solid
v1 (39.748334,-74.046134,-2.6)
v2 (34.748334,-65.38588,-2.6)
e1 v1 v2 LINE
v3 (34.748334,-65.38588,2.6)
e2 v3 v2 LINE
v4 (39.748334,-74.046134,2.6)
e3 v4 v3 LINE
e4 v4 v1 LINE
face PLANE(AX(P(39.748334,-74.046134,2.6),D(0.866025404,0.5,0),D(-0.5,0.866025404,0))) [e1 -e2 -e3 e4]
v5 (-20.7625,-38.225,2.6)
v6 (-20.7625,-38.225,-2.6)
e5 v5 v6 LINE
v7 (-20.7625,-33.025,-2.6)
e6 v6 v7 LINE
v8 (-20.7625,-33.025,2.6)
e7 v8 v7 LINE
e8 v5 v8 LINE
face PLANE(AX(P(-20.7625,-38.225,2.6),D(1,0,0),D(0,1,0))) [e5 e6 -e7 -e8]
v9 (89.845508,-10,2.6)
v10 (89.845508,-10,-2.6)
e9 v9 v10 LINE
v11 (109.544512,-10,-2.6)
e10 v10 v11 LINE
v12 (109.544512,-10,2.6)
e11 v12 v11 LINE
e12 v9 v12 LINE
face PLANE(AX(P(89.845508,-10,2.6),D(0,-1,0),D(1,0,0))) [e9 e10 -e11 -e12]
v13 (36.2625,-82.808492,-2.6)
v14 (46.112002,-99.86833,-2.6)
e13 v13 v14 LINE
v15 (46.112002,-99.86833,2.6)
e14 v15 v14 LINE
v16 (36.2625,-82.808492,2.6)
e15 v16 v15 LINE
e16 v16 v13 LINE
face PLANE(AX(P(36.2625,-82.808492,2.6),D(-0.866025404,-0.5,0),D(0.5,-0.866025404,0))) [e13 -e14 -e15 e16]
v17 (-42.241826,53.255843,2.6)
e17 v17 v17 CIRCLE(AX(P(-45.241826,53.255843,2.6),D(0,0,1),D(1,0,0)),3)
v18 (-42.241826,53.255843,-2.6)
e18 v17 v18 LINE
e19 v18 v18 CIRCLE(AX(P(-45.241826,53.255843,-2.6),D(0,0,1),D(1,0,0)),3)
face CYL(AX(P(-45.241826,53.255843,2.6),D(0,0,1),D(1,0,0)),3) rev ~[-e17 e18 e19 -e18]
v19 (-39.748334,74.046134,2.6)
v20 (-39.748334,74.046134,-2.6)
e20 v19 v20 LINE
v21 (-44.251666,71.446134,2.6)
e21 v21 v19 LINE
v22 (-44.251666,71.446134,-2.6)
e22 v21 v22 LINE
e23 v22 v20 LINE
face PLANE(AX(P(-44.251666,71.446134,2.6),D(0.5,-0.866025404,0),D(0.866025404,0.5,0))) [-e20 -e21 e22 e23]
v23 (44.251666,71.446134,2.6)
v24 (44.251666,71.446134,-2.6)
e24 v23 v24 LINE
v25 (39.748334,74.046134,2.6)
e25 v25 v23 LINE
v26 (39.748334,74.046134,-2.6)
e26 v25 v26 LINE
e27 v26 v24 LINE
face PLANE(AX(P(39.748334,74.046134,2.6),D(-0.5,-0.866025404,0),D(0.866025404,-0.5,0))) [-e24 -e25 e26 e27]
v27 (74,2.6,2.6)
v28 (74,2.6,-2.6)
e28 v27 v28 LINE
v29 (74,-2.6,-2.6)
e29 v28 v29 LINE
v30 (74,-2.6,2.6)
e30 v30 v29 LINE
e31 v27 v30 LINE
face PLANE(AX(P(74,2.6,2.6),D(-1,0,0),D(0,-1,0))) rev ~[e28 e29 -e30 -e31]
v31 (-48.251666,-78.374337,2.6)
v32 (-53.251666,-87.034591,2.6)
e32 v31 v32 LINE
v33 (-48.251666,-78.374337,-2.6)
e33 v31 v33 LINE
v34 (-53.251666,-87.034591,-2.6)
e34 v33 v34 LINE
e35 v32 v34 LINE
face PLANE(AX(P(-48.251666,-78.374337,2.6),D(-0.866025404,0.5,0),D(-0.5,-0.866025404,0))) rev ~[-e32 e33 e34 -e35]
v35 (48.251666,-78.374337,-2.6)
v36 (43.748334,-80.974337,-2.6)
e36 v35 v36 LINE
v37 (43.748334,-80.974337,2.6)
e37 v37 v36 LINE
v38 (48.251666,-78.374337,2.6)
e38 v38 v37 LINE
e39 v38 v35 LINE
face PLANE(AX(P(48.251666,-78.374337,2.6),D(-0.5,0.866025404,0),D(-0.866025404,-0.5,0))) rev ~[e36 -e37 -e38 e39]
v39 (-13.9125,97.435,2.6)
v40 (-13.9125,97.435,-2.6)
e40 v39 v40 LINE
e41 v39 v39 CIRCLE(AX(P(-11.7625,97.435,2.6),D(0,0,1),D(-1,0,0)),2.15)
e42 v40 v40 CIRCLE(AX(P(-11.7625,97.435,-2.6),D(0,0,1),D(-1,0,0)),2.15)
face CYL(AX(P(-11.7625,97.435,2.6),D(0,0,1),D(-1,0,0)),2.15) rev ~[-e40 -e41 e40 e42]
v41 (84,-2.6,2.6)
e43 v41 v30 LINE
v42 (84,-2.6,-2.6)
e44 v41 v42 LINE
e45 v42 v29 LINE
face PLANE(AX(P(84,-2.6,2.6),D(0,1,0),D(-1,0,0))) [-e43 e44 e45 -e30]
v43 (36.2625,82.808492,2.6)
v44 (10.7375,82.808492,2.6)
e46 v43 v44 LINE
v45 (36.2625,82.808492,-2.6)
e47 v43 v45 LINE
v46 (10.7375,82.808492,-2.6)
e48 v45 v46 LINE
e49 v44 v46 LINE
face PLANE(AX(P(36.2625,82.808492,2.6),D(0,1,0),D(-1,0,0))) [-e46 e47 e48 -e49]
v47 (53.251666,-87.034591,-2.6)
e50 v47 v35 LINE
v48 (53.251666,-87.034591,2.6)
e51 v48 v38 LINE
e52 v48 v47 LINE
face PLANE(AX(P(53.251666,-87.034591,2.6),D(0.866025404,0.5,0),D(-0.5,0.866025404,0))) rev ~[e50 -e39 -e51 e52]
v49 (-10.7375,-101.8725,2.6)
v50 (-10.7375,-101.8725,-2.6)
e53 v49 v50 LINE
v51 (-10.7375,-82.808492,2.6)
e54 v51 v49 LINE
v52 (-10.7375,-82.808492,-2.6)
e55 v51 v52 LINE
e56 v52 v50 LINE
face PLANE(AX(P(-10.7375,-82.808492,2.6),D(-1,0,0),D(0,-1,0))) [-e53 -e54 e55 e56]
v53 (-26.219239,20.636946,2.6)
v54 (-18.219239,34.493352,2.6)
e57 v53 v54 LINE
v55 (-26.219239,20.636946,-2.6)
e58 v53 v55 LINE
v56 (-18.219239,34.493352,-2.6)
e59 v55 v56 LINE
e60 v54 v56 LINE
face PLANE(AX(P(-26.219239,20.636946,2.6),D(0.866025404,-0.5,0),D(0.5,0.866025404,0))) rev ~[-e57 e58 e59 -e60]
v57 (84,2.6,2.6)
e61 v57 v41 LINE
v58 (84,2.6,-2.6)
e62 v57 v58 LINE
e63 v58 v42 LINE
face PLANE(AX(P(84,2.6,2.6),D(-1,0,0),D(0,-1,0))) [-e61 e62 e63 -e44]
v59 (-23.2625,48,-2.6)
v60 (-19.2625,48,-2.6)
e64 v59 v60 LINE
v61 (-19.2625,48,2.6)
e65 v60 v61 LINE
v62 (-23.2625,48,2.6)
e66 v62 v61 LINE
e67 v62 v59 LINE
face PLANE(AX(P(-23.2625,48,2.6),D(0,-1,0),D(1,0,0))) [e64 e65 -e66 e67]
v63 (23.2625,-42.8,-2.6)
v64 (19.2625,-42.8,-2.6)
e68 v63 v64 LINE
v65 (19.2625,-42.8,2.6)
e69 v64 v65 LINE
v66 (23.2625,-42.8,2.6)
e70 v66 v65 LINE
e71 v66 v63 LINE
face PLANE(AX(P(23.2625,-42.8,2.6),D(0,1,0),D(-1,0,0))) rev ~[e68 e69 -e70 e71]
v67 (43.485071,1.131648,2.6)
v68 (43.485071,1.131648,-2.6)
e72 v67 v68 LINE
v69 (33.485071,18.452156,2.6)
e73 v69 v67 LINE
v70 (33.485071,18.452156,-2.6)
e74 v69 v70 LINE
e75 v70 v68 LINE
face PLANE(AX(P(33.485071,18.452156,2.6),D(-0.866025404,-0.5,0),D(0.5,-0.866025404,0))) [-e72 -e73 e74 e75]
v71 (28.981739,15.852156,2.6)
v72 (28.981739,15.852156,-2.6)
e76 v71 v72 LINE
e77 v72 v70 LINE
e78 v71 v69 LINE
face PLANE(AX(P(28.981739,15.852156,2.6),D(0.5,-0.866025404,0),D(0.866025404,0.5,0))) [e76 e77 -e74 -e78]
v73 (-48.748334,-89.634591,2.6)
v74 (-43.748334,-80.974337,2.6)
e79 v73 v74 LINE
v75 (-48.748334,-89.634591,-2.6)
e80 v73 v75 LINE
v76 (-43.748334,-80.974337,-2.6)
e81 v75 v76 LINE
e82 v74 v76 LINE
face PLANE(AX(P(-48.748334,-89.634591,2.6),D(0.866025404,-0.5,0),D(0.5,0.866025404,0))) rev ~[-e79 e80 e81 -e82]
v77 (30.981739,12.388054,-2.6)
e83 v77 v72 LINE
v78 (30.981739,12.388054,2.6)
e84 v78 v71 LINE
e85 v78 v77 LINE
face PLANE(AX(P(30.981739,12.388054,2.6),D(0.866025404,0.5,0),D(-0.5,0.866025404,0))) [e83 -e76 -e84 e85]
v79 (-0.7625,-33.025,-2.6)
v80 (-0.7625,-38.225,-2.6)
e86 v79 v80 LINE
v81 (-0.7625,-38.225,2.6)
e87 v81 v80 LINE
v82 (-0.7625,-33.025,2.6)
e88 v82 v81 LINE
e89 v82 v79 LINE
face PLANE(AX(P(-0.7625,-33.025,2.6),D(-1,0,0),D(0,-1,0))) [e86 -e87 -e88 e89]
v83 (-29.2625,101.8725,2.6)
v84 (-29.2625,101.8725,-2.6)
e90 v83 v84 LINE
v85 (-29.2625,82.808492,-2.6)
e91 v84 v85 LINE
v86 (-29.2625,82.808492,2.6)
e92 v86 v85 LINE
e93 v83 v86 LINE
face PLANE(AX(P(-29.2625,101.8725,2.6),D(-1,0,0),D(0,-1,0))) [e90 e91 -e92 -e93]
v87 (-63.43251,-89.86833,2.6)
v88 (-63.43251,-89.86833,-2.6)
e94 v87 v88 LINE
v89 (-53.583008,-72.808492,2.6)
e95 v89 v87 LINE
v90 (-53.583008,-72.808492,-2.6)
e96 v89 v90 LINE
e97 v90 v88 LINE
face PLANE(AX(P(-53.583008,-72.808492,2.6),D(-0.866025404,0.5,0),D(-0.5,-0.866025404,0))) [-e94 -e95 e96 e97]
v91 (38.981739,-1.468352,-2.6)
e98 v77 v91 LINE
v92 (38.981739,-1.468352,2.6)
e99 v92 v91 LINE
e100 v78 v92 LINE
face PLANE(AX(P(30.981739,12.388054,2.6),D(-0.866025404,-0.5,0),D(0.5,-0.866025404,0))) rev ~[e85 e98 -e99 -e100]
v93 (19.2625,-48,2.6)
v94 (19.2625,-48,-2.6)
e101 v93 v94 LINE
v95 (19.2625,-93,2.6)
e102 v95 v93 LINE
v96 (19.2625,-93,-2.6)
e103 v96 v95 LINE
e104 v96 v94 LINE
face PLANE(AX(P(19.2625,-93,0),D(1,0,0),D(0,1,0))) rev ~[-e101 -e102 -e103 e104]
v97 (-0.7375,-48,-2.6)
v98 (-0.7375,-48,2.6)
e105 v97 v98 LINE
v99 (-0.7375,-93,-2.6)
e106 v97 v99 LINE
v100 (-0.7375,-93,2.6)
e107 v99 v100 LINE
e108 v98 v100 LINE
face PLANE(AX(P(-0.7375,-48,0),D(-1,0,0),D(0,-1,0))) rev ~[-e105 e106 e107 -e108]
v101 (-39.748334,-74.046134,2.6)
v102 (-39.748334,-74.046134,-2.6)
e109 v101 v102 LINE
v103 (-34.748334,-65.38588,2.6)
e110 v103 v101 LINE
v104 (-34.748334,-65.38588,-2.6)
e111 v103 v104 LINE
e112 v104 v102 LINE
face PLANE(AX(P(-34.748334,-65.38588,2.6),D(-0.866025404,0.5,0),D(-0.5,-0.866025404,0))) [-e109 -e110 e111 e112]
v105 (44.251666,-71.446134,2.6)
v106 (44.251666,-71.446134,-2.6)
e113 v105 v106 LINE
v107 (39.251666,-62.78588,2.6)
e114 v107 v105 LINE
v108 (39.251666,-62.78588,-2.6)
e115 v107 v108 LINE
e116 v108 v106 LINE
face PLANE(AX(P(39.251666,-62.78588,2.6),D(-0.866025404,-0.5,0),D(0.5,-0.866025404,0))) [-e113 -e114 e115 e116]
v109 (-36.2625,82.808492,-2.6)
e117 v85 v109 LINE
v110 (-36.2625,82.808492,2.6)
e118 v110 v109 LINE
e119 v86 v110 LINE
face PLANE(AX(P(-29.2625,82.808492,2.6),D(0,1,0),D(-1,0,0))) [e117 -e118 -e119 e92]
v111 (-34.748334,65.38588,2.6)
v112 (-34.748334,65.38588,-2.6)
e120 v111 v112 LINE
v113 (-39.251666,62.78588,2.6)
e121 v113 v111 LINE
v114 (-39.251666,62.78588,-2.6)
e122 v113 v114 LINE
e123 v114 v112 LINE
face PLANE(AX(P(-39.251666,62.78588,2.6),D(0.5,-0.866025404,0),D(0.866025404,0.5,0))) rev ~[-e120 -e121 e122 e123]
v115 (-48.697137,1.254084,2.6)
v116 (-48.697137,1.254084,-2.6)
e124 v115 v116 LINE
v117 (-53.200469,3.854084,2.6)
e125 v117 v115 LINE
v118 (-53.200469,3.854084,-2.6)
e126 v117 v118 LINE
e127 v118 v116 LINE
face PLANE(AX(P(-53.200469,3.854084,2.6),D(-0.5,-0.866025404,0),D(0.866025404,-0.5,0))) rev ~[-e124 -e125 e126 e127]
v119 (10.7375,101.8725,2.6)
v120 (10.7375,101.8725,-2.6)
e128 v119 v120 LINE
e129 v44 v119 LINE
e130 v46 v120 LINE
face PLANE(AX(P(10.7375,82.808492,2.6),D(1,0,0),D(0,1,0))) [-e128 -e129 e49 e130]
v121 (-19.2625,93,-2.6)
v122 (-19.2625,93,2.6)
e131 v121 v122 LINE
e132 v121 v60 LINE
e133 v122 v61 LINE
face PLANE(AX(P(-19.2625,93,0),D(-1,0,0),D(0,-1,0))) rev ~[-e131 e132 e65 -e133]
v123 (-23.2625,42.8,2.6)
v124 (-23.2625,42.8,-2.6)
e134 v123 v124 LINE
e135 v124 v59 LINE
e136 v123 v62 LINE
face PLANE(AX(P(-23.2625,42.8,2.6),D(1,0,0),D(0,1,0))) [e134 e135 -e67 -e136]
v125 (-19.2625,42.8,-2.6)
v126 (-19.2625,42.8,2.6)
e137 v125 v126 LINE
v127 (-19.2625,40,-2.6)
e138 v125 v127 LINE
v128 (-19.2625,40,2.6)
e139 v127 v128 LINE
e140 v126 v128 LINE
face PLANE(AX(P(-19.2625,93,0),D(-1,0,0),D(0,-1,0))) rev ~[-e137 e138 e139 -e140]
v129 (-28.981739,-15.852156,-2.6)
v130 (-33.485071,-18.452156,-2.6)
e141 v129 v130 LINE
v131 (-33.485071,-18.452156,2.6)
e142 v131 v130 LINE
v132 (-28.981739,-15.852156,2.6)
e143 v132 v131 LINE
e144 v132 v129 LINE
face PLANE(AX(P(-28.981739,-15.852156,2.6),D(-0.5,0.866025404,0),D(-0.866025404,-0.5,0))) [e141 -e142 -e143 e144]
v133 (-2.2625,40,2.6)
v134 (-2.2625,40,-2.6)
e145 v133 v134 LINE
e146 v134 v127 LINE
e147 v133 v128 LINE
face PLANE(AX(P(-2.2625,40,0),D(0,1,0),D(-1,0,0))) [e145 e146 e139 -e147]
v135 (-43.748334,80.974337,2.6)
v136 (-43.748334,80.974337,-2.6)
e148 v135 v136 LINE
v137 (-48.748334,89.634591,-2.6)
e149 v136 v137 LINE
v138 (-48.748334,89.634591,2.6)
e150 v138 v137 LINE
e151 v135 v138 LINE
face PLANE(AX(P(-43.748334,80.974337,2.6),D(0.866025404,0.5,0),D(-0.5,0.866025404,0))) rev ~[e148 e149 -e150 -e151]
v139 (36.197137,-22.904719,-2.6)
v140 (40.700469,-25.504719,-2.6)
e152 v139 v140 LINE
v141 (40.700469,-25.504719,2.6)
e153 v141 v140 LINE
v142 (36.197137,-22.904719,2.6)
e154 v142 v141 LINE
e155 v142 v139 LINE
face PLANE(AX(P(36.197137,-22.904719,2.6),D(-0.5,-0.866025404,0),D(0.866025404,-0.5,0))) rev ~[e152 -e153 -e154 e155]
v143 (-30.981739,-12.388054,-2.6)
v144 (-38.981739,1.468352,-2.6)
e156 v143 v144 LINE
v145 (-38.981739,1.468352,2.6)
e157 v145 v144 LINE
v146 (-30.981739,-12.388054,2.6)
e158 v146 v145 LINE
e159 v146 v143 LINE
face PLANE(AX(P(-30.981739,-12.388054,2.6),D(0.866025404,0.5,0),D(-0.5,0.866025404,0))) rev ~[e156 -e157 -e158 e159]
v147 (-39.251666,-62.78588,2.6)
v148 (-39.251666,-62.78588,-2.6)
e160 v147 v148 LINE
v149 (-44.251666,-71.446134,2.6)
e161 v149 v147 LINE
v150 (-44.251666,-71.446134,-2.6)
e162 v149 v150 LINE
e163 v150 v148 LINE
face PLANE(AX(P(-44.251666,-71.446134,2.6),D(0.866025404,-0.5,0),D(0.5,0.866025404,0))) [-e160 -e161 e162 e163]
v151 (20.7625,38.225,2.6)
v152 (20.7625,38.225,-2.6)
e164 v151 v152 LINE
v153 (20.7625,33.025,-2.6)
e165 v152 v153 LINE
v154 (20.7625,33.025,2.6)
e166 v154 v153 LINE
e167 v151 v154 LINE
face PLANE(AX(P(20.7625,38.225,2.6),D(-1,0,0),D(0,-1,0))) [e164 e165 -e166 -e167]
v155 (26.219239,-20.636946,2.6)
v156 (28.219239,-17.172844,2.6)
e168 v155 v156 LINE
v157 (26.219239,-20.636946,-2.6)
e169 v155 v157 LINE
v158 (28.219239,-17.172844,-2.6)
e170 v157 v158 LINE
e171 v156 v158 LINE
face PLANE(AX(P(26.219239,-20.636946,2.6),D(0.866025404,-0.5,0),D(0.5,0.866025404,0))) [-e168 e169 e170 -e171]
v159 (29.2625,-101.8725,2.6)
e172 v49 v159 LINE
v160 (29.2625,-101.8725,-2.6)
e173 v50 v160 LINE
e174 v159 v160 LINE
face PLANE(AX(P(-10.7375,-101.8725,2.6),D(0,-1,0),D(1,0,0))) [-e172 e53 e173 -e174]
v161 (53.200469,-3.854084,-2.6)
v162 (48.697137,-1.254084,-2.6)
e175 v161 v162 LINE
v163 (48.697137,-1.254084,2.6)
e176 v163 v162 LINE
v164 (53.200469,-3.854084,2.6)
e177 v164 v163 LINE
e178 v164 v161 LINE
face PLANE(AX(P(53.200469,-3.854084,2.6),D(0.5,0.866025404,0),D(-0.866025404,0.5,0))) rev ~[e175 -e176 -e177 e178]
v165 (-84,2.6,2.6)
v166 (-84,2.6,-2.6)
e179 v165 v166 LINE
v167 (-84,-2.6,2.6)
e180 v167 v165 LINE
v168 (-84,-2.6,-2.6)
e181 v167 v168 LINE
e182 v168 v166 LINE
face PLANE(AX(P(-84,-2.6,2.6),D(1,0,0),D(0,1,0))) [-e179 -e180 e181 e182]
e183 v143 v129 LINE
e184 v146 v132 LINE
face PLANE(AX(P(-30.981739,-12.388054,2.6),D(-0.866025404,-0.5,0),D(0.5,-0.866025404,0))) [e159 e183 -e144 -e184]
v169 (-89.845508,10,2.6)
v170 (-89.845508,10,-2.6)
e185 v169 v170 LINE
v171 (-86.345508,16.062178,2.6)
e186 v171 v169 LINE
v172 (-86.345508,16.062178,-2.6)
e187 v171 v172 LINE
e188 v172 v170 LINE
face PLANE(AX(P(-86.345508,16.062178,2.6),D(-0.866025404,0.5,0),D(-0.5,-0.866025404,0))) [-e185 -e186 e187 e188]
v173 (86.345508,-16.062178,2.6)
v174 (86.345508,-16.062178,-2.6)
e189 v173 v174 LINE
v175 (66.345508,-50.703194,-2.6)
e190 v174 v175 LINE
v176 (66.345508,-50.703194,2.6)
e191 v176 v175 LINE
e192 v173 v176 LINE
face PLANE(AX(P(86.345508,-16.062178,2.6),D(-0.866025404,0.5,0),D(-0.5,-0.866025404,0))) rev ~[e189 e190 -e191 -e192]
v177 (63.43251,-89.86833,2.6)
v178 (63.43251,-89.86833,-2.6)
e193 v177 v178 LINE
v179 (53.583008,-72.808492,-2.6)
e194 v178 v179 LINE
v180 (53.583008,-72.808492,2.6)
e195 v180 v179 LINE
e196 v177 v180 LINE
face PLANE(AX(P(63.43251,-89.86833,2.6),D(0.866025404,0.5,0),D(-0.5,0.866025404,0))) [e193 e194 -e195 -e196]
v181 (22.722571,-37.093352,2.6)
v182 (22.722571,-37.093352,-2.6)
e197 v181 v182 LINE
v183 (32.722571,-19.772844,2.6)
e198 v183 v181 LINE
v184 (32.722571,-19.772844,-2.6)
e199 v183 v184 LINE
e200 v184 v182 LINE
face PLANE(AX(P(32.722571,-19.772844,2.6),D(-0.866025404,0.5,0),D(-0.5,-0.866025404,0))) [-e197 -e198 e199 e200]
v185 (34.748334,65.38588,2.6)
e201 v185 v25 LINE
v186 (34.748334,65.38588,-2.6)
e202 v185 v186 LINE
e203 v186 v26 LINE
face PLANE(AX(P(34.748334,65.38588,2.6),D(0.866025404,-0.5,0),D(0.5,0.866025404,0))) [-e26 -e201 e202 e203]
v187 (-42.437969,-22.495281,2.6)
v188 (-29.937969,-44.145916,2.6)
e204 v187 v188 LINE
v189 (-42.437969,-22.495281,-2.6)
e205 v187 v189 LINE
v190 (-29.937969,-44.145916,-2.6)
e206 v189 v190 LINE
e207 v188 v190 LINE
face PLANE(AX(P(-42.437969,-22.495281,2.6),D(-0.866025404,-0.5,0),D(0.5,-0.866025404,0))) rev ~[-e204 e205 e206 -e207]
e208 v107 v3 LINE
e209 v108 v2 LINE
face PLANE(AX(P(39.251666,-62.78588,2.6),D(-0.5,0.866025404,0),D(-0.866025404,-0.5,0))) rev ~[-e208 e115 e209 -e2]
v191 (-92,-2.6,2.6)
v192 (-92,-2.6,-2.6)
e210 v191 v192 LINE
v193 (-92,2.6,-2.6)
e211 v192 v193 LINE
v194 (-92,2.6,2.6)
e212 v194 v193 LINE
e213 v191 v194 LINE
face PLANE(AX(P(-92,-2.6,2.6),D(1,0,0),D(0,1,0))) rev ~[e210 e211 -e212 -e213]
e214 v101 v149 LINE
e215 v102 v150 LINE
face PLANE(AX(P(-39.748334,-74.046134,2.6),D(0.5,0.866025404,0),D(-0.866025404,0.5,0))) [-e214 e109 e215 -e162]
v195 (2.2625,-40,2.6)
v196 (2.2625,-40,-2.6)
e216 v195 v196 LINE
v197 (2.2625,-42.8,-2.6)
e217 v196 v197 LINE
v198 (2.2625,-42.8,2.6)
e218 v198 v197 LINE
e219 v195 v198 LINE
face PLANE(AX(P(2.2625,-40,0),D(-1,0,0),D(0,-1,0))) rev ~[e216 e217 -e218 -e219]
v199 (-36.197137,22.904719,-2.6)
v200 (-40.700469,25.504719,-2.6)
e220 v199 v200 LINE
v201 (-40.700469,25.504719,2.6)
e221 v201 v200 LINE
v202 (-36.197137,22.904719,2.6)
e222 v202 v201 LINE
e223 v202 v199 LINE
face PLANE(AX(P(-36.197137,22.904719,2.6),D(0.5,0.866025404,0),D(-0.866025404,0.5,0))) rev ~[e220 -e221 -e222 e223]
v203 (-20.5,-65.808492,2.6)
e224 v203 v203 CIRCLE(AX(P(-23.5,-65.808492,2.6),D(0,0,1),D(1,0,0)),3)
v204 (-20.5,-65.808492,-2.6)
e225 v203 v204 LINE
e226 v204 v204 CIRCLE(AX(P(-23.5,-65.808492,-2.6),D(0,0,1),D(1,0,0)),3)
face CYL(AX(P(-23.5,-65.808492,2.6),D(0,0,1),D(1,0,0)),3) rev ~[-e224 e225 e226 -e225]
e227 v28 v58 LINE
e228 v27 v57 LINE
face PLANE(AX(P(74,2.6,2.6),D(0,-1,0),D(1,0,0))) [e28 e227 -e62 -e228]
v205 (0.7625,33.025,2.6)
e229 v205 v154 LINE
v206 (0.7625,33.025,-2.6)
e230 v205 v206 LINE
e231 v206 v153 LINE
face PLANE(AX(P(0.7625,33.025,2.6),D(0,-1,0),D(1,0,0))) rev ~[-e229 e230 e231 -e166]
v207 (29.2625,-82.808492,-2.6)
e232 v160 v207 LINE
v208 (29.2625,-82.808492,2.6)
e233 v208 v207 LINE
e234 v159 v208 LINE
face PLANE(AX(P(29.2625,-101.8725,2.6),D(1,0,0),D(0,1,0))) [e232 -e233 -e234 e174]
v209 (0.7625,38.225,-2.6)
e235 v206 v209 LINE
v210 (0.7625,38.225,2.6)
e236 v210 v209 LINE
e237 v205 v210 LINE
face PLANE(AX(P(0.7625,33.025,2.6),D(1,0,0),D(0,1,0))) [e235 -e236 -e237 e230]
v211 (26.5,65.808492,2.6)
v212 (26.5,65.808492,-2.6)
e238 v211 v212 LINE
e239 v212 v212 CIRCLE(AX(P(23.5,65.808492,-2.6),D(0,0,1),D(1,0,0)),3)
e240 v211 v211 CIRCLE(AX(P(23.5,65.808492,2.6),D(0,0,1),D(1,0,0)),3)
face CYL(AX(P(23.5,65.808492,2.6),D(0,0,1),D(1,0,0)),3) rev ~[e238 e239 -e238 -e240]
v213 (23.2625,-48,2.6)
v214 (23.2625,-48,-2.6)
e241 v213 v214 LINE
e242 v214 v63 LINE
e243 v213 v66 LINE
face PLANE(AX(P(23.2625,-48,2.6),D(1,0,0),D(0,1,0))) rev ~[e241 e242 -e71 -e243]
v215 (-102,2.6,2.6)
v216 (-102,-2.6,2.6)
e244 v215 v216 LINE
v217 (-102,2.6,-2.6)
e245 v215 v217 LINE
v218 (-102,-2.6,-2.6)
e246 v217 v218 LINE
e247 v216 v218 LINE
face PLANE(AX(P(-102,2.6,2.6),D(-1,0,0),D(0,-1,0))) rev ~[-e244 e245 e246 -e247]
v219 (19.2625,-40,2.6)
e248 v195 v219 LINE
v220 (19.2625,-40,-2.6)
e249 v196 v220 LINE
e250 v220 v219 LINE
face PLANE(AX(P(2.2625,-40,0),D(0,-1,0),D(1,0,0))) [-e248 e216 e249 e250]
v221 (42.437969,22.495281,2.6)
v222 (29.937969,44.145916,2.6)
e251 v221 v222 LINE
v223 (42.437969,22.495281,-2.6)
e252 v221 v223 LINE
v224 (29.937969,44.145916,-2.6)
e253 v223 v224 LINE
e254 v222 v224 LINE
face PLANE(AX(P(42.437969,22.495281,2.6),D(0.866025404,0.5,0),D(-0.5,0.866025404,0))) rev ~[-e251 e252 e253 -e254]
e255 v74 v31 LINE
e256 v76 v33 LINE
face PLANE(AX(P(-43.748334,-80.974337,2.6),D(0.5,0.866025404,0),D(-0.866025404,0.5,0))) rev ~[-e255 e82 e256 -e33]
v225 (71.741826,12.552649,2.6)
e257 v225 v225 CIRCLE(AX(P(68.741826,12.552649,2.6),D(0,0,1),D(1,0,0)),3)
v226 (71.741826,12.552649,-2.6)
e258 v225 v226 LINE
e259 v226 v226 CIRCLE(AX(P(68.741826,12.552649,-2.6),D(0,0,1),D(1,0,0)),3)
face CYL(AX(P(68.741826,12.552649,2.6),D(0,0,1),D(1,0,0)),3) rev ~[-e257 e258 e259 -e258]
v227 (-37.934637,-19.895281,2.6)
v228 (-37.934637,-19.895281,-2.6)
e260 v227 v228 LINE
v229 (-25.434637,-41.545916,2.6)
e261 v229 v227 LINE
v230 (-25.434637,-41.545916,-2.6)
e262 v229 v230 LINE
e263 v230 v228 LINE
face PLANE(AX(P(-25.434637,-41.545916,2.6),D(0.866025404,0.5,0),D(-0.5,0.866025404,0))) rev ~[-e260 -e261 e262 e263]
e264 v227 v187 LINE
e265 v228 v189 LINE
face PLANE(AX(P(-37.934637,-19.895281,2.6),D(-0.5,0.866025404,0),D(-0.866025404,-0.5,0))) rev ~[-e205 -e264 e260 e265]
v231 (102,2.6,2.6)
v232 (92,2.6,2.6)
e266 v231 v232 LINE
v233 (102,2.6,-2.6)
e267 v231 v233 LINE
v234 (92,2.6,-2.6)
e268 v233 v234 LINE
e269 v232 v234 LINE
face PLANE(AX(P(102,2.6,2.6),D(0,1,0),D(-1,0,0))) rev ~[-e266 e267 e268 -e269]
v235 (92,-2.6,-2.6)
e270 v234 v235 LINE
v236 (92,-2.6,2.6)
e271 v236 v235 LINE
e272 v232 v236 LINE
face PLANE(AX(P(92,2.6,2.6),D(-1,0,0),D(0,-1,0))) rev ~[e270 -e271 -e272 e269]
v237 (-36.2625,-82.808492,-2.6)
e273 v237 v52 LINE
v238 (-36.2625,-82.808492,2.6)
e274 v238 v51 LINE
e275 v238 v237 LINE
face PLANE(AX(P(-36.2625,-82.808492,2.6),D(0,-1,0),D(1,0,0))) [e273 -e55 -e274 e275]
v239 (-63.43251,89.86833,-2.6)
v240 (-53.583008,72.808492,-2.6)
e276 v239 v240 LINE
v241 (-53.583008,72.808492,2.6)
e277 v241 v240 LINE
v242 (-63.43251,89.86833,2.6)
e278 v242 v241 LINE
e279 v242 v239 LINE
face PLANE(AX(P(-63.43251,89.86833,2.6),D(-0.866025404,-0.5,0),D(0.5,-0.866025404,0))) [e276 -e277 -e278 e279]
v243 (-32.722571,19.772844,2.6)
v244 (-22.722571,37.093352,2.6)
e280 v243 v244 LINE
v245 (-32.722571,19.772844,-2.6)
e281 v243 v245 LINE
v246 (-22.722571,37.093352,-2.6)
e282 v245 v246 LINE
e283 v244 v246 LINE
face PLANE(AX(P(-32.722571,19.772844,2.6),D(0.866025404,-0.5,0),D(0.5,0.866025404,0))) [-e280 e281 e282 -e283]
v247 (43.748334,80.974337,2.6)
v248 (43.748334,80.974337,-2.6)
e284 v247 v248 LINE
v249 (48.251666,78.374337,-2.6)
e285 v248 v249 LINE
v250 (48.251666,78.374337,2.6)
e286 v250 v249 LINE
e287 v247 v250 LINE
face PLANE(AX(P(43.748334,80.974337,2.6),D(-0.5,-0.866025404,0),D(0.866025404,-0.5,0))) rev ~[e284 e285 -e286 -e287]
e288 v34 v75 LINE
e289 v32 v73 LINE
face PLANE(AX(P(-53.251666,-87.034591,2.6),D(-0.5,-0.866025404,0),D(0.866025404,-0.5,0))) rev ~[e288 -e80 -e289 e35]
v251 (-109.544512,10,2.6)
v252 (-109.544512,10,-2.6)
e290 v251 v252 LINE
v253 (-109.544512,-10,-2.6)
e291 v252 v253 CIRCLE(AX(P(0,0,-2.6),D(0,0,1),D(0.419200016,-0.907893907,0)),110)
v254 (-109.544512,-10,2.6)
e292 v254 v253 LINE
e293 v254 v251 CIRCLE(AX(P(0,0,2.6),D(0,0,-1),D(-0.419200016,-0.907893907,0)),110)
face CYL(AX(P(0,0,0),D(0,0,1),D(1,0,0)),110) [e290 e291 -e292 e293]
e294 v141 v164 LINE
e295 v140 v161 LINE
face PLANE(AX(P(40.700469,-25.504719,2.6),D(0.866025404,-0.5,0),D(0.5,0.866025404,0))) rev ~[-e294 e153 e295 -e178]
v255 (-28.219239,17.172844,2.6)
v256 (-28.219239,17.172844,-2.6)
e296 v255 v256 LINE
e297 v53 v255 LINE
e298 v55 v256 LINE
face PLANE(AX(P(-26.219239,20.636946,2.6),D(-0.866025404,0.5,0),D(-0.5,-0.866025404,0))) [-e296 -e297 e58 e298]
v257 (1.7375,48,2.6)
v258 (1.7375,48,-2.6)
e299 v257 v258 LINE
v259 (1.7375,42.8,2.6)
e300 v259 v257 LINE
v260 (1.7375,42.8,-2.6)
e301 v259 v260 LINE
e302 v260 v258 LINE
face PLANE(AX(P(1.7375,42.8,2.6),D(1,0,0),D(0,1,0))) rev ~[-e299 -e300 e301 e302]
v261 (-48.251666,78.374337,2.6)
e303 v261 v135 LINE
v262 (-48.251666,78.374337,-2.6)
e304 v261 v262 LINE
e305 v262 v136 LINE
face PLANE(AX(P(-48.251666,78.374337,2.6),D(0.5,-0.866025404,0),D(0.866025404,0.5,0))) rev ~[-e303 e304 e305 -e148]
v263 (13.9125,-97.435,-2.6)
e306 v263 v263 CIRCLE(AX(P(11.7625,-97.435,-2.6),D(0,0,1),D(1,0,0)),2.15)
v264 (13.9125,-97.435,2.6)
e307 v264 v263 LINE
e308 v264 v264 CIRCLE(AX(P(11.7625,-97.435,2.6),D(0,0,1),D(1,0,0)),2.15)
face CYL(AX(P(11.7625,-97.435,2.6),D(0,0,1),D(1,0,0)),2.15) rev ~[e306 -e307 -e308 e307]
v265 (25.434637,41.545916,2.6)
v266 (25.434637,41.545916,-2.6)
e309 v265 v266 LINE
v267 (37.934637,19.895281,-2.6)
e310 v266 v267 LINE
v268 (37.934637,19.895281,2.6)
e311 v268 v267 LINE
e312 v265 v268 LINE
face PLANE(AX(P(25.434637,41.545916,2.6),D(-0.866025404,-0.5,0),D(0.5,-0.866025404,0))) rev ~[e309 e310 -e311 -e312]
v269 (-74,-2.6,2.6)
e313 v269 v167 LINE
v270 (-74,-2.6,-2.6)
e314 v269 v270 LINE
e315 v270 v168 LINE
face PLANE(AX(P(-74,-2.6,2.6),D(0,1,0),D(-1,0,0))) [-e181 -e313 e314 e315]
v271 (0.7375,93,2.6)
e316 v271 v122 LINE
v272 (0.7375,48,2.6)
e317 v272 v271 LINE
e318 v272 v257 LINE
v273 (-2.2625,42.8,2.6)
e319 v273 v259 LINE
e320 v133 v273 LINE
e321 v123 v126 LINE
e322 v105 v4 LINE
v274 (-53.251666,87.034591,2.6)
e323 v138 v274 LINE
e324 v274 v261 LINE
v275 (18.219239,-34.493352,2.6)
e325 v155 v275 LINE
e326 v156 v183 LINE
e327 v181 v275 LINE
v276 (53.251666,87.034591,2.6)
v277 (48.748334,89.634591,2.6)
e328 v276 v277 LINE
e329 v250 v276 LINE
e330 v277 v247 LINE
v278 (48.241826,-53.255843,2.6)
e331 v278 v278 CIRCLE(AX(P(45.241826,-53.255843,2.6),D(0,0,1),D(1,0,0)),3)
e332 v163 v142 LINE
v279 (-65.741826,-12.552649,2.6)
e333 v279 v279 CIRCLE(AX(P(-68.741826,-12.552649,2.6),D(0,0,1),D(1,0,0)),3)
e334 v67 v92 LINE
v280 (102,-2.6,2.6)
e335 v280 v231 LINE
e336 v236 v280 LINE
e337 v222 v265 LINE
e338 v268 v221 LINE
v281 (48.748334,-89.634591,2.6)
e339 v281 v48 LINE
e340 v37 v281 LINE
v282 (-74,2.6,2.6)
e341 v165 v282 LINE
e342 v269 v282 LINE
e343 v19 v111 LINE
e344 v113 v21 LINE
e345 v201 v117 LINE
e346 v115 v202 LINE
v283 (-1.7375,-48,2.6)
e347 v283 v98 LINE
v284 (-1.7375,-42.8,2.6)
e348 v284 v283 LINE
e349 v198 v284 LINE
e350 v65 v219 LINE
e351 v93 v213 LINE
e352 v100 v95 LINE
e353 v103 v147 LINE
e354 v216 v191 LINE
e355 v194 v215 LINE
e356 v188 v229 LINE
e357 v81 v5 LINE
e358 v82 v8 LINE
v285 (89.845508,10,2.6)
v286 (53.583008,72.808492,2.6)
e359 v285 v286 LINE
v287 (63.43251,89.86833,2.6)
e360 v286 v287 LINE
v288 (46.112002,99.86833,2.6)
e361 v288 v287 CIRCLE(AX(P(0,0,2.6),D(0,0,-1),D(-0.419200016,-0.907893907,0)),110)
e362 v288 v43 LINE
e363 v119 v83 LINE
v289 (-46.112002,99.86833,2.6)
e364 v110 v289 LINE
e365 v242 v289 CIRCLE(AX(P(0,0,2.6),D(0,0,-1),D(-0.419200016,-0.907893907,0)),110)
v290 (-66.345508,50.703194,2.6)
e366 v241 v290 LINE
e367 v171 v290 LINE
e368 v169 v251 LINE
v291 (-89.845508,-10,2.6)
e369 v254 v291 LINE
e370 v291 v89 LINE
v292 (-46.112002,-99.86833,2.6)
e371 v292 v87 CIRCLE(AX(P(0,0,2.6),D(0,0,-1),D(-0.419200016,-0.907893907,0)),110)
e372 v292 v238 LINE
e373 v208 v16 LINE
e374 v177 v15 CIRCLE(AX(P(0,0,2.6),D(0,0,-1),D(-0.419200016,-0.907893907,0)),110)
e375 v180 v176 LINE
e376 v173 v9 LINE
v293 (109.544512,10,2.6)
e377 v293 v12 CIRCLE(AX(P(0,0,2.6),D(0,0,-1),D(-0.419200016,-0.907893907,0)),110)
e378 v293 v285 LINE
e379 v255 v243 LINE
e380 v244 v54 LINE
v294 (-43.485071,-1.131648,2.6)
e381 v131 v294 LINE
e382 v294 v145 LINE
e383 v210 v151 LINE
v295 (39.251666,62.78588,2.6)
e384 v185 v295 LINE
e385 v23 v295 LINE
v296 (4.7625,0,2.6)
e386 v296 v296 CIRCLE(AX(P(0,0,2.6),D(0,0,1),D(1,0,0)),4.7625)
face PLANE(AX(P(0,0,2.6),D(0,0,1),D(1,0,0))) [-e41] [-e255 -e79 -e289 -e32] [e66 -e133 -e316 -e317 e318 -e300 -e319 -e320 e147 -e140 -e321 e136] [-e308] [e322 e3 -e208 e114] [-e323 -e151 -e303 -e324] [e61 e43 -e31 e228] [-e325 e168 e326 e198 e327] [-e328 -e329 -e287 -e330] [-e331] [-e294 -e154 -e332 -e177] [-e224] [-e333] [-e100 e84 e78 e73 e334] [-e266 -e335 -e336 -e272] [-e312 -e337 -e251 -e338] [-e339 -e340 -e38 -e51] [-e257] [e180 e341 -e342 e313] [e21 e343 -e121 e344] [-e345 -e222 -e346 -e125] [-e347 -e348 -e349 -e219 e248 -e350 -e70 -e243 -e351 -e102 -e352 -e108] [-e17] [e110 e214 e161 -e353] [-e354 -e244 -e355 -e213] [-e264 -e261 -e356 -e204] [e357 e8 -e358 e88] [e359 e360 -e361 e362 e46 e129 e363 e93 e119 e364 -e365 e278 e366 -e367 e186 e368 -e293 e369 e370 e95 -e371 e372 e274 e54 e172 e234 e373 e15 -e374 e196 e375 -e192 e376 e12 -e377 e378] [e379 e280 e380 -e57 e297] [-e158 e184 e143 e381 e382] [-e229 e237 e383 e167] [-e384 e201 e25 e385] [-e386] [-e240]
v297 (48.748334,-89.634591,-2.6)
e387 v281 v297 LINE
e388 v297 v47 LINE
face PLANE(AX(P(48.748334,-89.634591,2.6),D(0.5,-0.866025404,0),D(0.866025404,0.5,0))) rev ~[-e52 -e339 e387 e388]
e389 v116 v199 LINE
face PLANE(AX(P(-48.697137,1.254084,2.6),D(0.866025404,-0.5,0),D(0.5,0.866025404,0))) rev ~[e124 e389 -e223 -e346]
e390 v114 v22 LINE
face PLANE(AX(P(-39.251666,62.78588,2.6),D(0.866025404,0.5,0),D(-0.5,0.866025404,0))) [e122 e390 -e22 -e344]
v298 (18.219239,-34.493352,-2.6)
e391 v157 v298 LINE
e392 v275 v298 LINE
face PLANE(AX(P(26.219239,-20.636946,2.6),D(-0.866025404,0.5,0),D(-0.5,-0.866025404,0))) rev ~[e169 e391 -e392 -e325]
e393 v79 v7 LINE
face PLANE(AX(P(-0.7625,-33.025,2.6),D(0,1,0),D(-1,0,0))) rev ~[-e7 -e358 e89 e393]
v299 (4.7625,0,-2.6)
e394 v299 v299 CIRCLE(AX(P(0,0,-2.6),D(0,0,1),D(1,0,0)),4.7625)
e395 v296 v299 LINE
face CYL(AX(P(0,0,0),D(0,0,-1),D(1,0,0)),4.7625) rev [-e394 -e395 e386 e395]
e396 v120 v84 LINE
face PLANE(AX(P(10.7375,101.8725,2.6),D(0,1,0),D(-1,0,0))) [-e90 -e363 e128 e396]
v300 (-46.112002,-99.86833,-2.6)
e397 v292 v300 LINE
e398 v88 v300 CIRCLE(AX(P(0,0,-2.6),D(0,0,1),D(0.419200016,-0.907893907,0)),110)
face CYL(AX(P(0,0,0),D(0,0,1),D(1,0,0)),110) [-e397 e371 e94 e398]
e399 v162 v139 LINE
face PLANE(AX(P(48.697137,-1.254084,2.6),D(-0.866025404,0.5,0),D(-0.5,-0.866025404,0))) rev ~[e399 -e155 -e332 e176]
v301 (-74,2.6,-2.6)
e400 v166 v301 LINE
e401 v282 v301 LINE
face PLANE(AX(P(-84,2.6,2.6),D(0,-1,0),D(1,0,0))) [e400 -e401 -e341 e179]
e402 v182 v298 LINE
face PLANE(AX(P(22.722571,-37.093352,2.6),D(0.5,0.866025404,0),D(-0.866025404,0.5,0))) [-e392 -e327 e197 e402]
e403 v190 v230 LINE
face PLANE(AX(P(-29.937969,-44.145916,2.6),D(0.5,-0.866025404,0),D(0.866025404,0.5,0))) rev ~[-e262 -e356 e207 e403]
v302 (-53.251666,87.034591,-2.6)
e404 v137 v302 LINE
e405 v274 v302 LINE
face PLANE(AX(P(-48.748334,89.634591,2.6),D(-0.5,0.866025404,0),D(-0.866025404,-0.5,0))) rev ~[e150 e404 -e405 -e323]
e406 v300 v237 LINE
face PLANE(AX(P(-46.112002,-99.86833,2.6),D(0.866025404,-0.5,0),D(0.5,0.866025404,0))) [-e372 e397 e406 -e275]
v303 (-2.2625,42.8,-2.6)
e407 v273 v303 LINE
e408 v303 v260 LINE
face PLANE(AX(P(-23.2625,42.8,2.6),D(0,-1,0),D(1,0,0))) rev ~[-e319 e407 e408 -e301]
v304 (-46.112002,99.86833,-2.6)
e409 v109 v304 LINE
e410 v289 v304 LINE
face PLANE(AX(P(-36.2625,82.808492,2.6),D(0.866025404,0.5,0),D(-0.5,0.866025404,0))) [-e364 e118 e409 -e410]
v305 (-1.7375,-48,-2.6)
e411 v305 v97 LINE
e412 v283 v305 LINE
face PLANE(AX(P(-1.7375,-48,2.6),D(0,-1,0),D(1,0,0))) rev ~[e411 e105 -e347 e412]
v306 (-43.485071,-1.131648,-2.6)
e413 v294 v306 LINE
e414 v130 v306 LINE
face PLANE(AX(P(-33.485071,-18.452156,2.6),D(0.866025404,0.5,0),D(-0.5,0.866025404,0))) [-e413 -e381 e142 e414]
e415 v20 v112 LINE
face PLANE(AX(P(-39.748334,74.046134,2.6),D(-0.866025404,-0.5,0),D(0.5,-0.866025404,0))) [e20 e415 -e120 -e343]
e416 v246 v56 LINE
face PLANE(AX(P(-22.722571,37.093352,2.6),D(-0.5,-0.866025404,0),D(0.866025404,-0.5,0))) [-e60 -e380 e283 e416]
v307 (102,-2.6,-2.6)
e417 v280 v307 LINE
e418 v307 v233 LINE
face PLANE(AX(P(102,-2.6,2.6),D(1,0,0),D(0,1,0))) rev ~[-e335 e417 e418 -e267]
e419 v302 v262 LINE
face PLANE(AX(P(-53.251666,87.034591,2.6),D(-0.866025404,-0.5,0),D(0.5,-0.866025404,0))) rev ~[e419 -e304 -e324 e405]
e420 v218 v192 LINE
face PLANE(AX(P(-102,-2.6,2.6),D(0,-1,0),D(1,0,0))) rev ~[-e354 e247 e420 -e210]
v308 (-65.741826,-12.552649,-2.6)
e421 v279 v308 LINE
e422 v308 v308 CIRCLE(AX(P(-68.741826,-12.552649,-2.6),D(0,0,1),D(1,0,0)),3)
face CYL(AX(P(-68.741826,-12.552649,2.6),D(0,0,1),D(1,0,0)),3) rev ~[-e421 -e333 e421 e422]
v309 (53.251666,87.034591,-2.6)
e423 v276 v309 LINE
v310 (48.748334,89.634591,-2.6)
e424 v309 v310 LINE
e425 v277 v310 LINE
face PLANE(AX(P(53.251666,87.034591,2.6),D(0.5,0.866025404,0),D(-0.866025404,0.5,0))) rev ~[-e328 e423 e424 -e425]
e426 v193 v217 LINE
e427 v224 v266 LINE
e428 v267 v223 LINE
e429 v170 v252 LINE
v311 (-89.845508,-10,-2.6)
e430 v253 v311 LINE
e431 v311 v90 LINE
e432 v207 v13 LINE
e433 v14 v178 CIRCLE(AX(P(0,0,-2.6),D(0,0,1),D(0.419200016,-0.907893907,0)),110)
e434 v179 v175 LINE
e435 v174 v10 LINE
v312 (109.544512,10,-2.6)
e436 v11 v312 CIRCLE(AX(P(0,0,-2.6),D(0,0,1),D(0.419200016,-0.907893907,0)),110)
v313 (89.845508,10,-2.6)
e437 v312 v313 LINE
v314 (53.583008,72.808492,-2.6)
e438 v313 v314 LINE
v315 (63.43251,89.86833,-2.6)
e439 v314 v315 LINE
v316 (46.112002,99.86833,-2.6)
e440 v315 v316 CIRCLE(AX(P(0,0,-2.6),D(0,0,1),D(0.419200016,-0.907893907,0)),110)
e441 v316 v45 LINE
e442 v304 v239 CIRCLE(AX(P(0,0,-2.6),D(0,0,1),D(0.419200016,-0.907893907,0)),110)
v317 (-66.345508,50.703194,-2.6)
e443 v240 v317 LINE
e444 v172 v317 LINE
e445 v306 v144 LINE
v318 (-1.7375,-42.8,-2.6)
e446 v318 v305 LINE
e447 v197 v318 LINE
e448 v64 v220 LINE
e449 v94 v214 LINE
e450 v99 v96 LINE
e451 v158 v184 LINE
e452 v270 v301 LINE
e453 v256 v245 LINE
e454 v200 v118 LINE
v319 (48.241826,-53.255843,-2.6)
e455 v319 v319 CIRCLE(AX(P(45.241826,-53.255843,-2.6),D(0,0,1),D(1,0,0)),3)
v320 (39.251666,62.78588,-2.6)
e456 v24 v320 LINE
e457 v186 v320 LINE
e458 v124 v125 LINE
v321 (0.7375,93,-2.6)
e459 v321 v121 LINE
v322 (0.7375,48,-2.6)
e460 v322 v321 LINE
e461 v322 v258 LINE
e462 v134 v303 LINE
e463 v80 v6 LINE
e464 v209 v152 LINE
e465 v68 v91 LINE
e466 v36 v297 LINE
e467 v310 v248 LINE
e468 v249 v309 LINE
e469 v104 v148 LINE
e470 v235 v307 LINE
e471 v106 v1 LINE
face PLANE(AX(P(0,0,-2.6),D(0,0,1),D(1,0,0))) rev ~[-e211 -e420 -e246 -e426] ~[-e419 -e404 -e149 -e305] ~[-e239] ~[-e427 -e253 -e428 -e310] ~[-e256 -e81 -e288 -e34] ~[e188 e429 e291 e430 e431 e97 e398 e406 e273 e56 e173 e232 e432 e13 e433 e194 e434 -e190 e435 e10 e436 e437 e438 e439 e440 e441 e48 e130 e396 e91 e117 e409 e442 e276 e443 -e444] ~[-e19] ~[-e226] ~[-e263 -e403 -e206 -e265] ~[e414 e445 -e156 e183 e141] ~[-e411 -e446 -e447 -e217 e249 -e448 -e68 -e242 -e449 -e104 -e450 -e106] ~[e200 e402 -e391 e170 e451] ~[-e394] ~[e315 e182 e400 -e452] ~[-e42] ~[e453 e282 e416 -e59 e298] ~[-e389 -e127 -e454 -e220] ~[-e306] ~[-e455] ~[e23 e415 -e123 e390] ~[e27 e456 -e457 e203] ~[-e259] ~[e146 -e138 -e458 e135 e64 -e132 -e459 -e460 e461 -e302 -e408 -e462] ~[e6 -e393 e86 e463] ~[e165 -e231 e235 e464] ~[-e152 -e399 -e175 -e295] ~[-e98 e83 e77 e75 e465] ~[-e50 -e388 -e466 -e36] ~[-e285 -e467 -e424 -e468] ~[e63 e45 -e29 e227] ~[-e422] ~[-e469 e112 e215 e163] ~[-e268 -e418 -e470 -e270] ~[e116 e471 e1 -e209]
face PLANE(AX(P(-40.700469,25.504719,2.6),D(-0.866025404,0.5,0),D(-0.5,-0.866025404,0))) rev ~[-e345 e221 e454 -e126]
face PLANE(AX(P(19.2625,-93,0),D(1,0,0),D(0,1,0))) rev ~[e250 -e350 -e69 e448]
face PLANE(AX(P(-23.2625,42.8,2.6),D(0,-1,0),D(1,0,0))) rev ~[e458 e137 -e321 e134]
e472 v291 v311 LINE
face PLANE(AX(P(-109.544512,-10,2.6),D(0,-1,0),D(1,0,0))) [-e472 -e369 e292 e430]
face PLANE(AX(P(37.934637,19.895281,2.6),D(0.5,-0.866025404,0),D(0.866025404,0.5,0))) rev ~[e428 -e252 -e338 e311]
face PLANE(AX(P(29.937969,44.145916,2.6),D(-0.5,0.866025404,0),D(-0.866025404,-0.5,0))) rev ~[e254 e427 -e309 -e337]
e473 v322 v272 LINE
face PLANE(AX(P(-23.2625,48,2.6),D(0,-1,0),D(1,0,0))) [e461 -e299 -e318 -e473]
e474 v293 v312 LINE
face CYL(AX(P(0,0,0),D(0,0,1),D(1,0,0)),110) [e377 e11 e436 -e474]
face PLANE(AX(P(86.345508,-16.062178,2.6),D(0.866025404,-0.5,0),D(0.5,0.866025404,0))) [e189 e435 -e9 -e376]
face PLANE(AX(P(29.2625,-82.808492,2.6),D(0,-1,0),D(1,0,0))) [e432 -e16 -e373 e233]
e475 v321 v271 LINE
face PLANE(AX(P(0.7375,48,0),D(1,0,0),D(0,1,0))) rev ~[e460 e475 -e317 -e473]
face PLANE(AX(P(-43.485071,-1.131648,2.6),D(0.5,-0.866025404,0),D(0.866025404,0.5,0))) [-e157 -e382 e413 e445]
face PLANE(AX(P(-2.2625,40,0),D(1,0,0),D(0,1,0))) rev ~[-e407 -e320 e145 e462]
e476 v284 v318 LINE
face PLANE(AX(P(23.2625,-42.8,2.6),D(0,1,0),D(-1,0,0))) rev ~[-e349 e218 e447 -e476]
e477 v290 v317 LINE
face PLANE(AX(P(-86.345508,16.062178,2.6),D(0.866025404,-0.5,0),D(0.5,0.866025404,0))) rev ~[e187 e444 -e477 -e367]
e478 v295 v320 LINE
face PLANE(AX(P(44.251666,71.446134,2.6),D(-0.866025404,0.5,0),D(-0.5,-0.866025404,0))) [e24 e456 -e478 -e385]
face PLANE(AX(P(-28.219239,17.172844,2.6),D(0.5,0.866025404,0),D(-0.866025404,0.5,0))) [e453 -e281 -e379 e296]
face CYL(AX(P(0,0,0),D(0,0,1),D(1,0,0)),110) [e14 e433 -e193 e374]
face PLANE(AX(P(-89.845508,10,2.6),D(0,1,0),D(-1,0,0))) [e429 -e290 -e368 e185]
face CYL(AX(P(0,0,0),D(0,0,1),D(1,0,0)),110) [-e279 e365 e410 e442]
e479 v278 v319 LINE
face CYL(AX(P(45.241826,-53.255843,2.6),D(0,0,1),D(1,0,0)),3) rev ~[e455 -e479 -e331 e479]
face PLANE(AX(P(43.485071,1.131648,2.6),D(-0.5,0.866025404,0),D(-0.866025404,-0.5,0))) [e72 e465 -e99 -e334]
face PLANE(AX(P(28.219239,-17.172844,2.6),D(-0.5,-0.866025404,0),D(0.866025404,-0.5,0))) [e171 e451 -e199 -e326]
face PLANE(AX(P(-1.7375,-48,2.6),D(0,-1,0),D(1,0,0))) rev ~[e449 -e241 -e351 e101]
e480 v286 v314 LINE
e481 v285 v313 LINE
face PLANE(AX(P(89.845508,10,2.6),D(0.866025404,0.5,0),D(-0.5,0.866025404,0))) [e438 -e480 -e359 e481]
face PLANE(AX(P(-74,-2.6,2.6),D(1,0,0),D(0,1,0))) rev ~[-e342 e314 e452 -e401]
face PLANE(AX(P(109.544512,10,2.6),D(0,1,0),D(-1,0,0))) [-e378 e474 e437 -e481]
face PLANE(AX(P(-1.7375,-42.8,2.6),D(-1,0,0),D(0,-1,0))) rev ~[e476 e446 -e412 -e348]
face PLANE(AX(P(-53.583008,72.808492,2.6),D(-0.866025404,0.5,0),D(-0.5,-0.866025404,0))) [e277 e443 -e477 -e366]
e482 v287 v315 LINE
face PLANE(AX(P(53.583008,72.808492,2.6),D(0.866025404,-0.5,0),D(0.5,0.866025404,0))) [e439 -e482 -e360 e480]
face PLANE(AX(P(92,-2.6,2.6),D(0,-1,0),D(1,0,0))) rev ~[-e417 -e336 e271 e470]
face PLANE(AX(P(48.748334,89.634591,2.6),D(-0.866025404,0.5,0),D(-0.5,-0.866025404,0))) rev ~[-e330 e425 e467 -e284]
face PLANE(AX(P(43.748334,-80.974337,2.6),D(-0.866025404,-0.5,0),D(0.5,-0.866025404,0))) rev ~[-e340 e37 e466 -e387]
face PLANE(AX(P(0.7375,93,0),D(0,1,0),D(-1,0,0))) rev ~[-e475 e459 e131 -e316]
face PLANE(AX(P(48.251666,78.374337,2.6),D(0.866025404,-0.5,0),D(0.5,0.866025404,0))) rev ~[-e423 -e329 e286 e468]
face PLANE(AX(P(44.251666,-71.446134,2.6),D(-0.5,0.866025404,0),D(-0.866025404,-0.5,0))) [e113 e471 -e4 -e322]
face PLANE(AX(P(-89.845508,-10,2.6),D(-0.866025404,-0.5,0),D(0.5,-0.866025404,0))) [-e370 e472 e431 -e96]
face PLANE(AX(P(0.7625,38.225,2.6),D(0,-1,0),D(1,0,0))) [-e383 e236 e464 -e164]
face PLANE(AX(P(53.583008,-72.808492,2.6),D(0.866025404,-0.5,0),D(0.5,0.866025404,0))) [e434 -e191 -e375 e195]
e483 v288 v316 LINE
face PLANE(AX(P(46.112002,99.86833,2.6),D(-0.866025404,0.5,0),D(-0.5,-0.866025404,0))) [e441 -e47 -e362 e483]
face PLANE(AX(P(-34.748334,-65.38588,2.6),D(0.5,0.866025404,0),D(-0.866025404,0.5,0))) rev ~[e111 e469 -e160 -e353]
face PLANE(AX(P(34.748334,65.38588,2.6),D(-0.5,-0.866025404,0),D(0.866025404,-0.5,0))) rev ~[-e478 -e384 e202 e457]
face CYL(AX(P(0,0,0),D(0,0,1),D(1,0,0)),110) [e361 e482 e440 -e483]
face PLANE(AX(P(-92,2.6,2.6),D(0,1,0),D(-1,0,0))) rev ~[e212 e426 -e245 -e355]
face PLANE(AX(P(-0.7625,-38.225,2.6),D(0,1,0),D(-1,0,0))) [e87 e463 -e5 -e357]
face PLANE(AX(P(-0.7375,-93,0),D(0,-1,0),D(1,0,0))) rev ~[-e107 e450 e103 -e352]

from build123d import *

# Parameters (mm, degrees)
SKETCH1_R                   = 110
SKETCH1_R_2                 = 4.7625
BOSS_EXTRUDE1_DEPTH         = 2.6
SKETCH2_R                   = 2.15
CUT_EXTRUDE3_DEPTH          = 6.2
CIRPATTERN1_COUNT           = 2
CIRPATTERN2_COUNT           = 2
CIRPATTERN2_ANGLE           = 60
CIRPATTERN2_COPY_1_SKETCH_R = 2.15
CIRPATTERN2_COPY_1_DEPTH    = 6.2
CUT_EXTRUDE5_DEPTH          = 6.2
SKETCH11_R                  = 3
SKETCH11_W                  = 25
SKETCH11_H                  = 5.2
CUT_EXTRUDE24_DEPTH         = 6.2
CUT_EXTRUDE25_DEPTH         = 6.2
CUT_EXTRUDE26_DEPTH         = 6.2


with BuildPart() as part:
    # Sketch1 → Boss-Extrude1 (new body, symmetric)
    with BuildSketch(Plane.XY):
        Circle(SKETCH1_R)
        Circle(SKETCH1_R_2, mode=Mode.SUBTRACT)
        Polygon((-4.7625, 40), (-2.2625, 40), (-2.2625, 48), (0.7375, 48), (0.7375, 93), (-19.2625, 93), (-19.2625, 40), (-16.7625, 40), align=None, mode=Mode.SUBTRACT)
        Polygon((4.7625, -40), (2.2625, -40), (2.2625, -48), (-0.7375, -48), (-0.7375, -93), (19.2625, -93), (19.2625, -40), (16.7625, -40), align=None, mode=Mode.SUBTRACT)
    extrude(amount=BOSS_EXTRUDE1_DEPTH, both=True)

    # Sketch2 → Cut-Extrude3 (cut, through all)
    with BuildSketch(Plane.XY.offset(2.6)):
        with Locations((11.7625, -97.435)):
            Circle(SKETCH2_R)
        with BuildLine():
            Line((-10.7375, -82.808492409), (-10.7375, -101.8725))
            Line((-10.7375, -101.8725), (9.2625, -101.8725))
            Line((9.2625, -101.8725), (29.2625, -101.8725))
            Line((29.2625, -101.8725), (29.2625, -82.808492409))
            Line((29.2625, -82.808492409), (36.2625, -82.808492409))
            Line((36.2625, -82.808492409), (46.112001713, -99.868329805))
            ThreePointArc((46.112001713, -99.868329805), (0, -110), (-46.112001713, -99.868329805))
            Line((-46.112001713, -99.868329805), (-36.2625, -82.808492409))
            Line((-36.2625, -82.808492409), (-10.7375, -82.808492409))
        make_face()
    cut_extrude3 = extrude(amount=-CUT_EXTRUDE3_DEPTH, mode=Mode.SUBTRACT)

    # CirPattern1: Cut-Extrude3 ×2 about axis
    cirpattern1_axis = Axis((0, 0, 0), (0, 0, 1))
    for i in range(1, CIRPATTERN1_COUNT):
        add(cut_extrude3.rotate(cirpattern1_axis, i * 360 / CIRPATTERN1_COUNT), mode=Mode.SUBTRACT)

    # CirPattern2: Cut-Extrude3 ×2 about axis
    cirpattern2_axis = Axis((0, 0, 0), (0, 0, 1))
    for i in range(1, CIRPATTERN2_COUNT):
        add(cut_extrude3.rotate(cirpattern2_axis, i * CIRPATTERN2_ANGLE / (CIRPATTERN2_COUNT - 1)), mode=Mode.SUBTRACT)

    # CirPattern2 copy 1 sketch → CirPattern2 copy 1 (cut, through all)
    with BuildSketch(Plane(origin=(0, 0, 2.6), x_dir=(-0.5, -0.866025404, 0), z_dir=(0, 0, 1))):
        with Locations((11.7625, -97.435)):
            Circle(CIRPATTERN2_COPY_1_SKETCH_R)
        with BuildLine():
            Line((-10.7375, -82.808492409), (-10.7375, -101.8725))
            Line((-10.7375, -101.8725), (9.2625, -101.8725))
            Line((9.2625, -101.8725), (29.2625, -101.8725))
            Line((29.2625, -101.8725), (29.2625, -82.808492409))
            Line((29.2625, -82.808492409), (36.2625, -82.808492409))
            Line((36.2625, -82.808492409), (46.112001713, -99.868329805))
            ThreePointArc((46.112001713, -99.868329805), (0, -110), (-46.112001713, -99.868329805))
            Line((-46.112001713, -99.868329805), (-36.2625, -82.808492409))
            Line((-36.2625, -82.808492409), (-10.7375, -82.808492409))
        make_face()
    extrude(amount=-CIRPATTERN2_COPY_1_DEPTH, mode=Mode.SUBTRACT)

    # Sketch5 → Cut-Extrude5 (cut, through all)
    with BuildSketch(Plane.XY.offset(2.6)):
        with BuildLine():
            Line((89.845508076, 10), (53.583008076, 72.808492409))
            Line((53.583008076, 72.808492409), (63.432509788, 89.868329805))
            ThreePointArc((63.432509788, 89.868329805), (95.262794416, 55), (109.544511501, 10))
            Line((109.544511501, 10), (89.845508076, 10))
        make_face()
        with BuildLine():
            Line((-89.845508076, -10), (-53.583008076, -72.808492409))
            Line((-53.583008076, -72.808492409), (-63.432509788, -89.868329805))
            ThreePointArc((-63.432509788, -89.868329805), (-95.262794416, -55), (-109.544511501, -10))
            Line((-109.544511501, -10), (-89.845508076, -10))
        make_face()
    extrude(amount=-CUT_EXTRUDE5_DEPTH, mode=Mode.SUBTRACT)

    # Sketch11 → Cut-Extrude24 (cut, through all)
    with BuildSketch(Plane.XY.offset(2.6)):
        with Locations((45.241826211, -53.255843194)):
            Circle(SKETCH11_R)
        with Locations((-23.5, -65.808492409)):
            Circle(SKETCH11_R)
        with Locations((-68.741826211, -12.552649216)):
            Circle(SKETCH11_R)
        with Locations((-45.241826211, 53.255843194)):
            Circle(SKETCH11_R)
        with Locations((23.5, 65.808492409)):
            Circle(SKETCH11_R)
        with Locations((68.741826211, 12.552649216)):
            Circle(SKETCH11_R)
        Polygon((-1.7375, -48), (23.2625, -48), (23.2625, -42.8), (19.2625, -42.8), (2.2625, -42.8), (-1.7375, -42.8), align=None)
        Polygon((-42.437969382, -22.495280861), (-29.937969382, -44.145915956), (-25.434637282, -41.545915956), (-37.934637282, -19.895280861), align=None)
        Polygon((-20.7625, -33.025), (-16.7625, -33.025), (-4.7625, -33.025), (-0.7625, -33.025), (-0.7625, -38.225), (-20.7625, -38.225), align=None)
        Polygon((-38.98173896, 1.468352446), (-36.98173896, -1.995749169), (-30.98173896, -12.388054014), (-28.98173896, -15.85215563), (-33.48507106, -18.45215563), (-43.48507106, -1.131647554), align=None)
        Polygon((-40.700469382, 25.504719139), (-53.200469382, 3.854084044), (-48.697137282, 1.254084044), (-36.197137282, 22.904719139), align=None)
        Polygon((-18.21923896, 34.493352446), (-20.21923896, 31.029250831), (-26.21923896, 20.636945986), (-28.21923896, 17.17284437), (-32.72257106, 19.77284437), (-22.72257106, 37.093352446), align=None)
        with Locations((-10.7625, 45.4)):
            Rectangle(SKETCH11_W, SKETCH11_H)
        Polygon((42.437969382, 22.495280861), (29.937969382, 44.145915956), (25.434637282, 41.545915956), (37.934637282, 19.895280861), align=None)
        Polygon((20.7625, 33.025), (16.7625, 33.025), (4.7625, 33.025), (0.7625, 33.025), (0.7625, 38.225), (20.7625, 38.225), align=None)
        Polygon((40.700469382, -25.504719139), (53.200469382, -3.854084044), (48.697137282, -1.254084044), (36.197137282, -22.904719139), align=None)
        Polygon((38.98173896, -1.468352446), (36.98173896, 1.995749169), (30.98173896, 12.388054014), (28.98173896, 15.85215563), (33.48507106, 18.45215563), (43.48507106, 1.131647554), align=None)
        Polygon((18.21923896, -34.493352446), (20.21923896, -31.029250831), (26.21923896, -20.636945986), (28.21923896, -17.17284437), (32.72257106, -19.77284437), (22.72257106, -37.093352446), align=None)
    extrude(amount=-CUT_EXTRUDE24_DEPTH, mode=Mode.SUBTRACT)

    # Sketch12 → Cut-Extrude25 (cut, through all)
    with BuildSketch(Plane.XY.offset(2.6)):
        Polygon((-37, -64.08587988), (-34.74833395, -65.38587988), (-39.74833395, -74.046133918), (-44.25166605, -71.446133918), (-39.25166605, -62.78587988), align=None)
        Polygon((-51, -88.334591186), (-48.74833395, -89.634591186), (-43.74833395, -80.974337148), (-48.25166605, -78.374337148), (-53.25166605, -87.034591186), align=None)
        Polygon((-74, 0), (-74, -2.6), (-84, -2.6), (-84, 2.6), (-74, 2.6), align=None)
        Polygon((-102, 0), (-102, -2.6), (-92, -2.6), (-92, 2.6), (-102, 2.6), align=None)
        Polygon((-37, 64.08587988), (-39.25166605, 62.78587988), (-44.25166605, 71.446133918), (-39.74833395, 74.046133918), (-34.74833395, 65.38587988), align=None)
        Polygon((-51, 88.334591186), (-53.25166605, 87.034591186), (-48.25166605, 78.374337148), (-43.74833395, 80.974337148), (-48.74833395, 89.634591186), align=None)
        Polygon((37, 64.08587988), (34.74833395, 65.38587988), (39.74833395, 74.046133918), (44.25166605, 71.446133918), (39.25166605, 62.78587988), align=None)
        Polygon((51, 88.334591186), (48.74833395, 89.634591186), (43.74833395, 80.974337148), (48.25166605, 78.374337148), (53.25166605, 87.034591186), align=None)
        Polygon((74, 0), (74, 2.6), (84, 2.6), (84, -2.6), (74, -2.6), align=None)
        Polygon((102, 0), (102, 2.6), (92, 2.6), (92, -2.6), (102, -2.6), align=None)
        Polygon((37, -64.08587988), (39.25166605, -62.78587988), (44.25166605, -71.446133918), (39.74833395, -74.046133918), (34.74833395, -65.38587988), align=None)
        Polygon((51, -88.334591186), (53.25166605, -87.034591186), (48.25166605, -78.374337148), (43.74833395, -80.974337148), (48.74833395, -89.634591186), align=None)
    extrude(amount=-CUT_EXTRUDE25_DEPTH, mode=Mode.SUBTRACT)

    # Sketch13 → Cut-Extrude26 (cut, through all)
    with BuildSketch(Plane.XY.offset(2.6)):
        Polygon((-86.345508076, 16.062177826), (-66.345508076, 50.703193978), (-76.345508076, 67.59574596), (-92.560678517, 57.996740162), (-113.304387557, 22.067582168), align=None)
        Polygon((66.345508076, -50.703193978), (83.10535709, -79.014856047), (116.539469578, -32.259052148), (108.045386829, -17.910378712), (86.345508076, -16.062177826), align=None)
    extrude(amount=-CUT_EXTRUDE26_DEPTH, mode=Mode.SUBTRACT)


solid = part.part
